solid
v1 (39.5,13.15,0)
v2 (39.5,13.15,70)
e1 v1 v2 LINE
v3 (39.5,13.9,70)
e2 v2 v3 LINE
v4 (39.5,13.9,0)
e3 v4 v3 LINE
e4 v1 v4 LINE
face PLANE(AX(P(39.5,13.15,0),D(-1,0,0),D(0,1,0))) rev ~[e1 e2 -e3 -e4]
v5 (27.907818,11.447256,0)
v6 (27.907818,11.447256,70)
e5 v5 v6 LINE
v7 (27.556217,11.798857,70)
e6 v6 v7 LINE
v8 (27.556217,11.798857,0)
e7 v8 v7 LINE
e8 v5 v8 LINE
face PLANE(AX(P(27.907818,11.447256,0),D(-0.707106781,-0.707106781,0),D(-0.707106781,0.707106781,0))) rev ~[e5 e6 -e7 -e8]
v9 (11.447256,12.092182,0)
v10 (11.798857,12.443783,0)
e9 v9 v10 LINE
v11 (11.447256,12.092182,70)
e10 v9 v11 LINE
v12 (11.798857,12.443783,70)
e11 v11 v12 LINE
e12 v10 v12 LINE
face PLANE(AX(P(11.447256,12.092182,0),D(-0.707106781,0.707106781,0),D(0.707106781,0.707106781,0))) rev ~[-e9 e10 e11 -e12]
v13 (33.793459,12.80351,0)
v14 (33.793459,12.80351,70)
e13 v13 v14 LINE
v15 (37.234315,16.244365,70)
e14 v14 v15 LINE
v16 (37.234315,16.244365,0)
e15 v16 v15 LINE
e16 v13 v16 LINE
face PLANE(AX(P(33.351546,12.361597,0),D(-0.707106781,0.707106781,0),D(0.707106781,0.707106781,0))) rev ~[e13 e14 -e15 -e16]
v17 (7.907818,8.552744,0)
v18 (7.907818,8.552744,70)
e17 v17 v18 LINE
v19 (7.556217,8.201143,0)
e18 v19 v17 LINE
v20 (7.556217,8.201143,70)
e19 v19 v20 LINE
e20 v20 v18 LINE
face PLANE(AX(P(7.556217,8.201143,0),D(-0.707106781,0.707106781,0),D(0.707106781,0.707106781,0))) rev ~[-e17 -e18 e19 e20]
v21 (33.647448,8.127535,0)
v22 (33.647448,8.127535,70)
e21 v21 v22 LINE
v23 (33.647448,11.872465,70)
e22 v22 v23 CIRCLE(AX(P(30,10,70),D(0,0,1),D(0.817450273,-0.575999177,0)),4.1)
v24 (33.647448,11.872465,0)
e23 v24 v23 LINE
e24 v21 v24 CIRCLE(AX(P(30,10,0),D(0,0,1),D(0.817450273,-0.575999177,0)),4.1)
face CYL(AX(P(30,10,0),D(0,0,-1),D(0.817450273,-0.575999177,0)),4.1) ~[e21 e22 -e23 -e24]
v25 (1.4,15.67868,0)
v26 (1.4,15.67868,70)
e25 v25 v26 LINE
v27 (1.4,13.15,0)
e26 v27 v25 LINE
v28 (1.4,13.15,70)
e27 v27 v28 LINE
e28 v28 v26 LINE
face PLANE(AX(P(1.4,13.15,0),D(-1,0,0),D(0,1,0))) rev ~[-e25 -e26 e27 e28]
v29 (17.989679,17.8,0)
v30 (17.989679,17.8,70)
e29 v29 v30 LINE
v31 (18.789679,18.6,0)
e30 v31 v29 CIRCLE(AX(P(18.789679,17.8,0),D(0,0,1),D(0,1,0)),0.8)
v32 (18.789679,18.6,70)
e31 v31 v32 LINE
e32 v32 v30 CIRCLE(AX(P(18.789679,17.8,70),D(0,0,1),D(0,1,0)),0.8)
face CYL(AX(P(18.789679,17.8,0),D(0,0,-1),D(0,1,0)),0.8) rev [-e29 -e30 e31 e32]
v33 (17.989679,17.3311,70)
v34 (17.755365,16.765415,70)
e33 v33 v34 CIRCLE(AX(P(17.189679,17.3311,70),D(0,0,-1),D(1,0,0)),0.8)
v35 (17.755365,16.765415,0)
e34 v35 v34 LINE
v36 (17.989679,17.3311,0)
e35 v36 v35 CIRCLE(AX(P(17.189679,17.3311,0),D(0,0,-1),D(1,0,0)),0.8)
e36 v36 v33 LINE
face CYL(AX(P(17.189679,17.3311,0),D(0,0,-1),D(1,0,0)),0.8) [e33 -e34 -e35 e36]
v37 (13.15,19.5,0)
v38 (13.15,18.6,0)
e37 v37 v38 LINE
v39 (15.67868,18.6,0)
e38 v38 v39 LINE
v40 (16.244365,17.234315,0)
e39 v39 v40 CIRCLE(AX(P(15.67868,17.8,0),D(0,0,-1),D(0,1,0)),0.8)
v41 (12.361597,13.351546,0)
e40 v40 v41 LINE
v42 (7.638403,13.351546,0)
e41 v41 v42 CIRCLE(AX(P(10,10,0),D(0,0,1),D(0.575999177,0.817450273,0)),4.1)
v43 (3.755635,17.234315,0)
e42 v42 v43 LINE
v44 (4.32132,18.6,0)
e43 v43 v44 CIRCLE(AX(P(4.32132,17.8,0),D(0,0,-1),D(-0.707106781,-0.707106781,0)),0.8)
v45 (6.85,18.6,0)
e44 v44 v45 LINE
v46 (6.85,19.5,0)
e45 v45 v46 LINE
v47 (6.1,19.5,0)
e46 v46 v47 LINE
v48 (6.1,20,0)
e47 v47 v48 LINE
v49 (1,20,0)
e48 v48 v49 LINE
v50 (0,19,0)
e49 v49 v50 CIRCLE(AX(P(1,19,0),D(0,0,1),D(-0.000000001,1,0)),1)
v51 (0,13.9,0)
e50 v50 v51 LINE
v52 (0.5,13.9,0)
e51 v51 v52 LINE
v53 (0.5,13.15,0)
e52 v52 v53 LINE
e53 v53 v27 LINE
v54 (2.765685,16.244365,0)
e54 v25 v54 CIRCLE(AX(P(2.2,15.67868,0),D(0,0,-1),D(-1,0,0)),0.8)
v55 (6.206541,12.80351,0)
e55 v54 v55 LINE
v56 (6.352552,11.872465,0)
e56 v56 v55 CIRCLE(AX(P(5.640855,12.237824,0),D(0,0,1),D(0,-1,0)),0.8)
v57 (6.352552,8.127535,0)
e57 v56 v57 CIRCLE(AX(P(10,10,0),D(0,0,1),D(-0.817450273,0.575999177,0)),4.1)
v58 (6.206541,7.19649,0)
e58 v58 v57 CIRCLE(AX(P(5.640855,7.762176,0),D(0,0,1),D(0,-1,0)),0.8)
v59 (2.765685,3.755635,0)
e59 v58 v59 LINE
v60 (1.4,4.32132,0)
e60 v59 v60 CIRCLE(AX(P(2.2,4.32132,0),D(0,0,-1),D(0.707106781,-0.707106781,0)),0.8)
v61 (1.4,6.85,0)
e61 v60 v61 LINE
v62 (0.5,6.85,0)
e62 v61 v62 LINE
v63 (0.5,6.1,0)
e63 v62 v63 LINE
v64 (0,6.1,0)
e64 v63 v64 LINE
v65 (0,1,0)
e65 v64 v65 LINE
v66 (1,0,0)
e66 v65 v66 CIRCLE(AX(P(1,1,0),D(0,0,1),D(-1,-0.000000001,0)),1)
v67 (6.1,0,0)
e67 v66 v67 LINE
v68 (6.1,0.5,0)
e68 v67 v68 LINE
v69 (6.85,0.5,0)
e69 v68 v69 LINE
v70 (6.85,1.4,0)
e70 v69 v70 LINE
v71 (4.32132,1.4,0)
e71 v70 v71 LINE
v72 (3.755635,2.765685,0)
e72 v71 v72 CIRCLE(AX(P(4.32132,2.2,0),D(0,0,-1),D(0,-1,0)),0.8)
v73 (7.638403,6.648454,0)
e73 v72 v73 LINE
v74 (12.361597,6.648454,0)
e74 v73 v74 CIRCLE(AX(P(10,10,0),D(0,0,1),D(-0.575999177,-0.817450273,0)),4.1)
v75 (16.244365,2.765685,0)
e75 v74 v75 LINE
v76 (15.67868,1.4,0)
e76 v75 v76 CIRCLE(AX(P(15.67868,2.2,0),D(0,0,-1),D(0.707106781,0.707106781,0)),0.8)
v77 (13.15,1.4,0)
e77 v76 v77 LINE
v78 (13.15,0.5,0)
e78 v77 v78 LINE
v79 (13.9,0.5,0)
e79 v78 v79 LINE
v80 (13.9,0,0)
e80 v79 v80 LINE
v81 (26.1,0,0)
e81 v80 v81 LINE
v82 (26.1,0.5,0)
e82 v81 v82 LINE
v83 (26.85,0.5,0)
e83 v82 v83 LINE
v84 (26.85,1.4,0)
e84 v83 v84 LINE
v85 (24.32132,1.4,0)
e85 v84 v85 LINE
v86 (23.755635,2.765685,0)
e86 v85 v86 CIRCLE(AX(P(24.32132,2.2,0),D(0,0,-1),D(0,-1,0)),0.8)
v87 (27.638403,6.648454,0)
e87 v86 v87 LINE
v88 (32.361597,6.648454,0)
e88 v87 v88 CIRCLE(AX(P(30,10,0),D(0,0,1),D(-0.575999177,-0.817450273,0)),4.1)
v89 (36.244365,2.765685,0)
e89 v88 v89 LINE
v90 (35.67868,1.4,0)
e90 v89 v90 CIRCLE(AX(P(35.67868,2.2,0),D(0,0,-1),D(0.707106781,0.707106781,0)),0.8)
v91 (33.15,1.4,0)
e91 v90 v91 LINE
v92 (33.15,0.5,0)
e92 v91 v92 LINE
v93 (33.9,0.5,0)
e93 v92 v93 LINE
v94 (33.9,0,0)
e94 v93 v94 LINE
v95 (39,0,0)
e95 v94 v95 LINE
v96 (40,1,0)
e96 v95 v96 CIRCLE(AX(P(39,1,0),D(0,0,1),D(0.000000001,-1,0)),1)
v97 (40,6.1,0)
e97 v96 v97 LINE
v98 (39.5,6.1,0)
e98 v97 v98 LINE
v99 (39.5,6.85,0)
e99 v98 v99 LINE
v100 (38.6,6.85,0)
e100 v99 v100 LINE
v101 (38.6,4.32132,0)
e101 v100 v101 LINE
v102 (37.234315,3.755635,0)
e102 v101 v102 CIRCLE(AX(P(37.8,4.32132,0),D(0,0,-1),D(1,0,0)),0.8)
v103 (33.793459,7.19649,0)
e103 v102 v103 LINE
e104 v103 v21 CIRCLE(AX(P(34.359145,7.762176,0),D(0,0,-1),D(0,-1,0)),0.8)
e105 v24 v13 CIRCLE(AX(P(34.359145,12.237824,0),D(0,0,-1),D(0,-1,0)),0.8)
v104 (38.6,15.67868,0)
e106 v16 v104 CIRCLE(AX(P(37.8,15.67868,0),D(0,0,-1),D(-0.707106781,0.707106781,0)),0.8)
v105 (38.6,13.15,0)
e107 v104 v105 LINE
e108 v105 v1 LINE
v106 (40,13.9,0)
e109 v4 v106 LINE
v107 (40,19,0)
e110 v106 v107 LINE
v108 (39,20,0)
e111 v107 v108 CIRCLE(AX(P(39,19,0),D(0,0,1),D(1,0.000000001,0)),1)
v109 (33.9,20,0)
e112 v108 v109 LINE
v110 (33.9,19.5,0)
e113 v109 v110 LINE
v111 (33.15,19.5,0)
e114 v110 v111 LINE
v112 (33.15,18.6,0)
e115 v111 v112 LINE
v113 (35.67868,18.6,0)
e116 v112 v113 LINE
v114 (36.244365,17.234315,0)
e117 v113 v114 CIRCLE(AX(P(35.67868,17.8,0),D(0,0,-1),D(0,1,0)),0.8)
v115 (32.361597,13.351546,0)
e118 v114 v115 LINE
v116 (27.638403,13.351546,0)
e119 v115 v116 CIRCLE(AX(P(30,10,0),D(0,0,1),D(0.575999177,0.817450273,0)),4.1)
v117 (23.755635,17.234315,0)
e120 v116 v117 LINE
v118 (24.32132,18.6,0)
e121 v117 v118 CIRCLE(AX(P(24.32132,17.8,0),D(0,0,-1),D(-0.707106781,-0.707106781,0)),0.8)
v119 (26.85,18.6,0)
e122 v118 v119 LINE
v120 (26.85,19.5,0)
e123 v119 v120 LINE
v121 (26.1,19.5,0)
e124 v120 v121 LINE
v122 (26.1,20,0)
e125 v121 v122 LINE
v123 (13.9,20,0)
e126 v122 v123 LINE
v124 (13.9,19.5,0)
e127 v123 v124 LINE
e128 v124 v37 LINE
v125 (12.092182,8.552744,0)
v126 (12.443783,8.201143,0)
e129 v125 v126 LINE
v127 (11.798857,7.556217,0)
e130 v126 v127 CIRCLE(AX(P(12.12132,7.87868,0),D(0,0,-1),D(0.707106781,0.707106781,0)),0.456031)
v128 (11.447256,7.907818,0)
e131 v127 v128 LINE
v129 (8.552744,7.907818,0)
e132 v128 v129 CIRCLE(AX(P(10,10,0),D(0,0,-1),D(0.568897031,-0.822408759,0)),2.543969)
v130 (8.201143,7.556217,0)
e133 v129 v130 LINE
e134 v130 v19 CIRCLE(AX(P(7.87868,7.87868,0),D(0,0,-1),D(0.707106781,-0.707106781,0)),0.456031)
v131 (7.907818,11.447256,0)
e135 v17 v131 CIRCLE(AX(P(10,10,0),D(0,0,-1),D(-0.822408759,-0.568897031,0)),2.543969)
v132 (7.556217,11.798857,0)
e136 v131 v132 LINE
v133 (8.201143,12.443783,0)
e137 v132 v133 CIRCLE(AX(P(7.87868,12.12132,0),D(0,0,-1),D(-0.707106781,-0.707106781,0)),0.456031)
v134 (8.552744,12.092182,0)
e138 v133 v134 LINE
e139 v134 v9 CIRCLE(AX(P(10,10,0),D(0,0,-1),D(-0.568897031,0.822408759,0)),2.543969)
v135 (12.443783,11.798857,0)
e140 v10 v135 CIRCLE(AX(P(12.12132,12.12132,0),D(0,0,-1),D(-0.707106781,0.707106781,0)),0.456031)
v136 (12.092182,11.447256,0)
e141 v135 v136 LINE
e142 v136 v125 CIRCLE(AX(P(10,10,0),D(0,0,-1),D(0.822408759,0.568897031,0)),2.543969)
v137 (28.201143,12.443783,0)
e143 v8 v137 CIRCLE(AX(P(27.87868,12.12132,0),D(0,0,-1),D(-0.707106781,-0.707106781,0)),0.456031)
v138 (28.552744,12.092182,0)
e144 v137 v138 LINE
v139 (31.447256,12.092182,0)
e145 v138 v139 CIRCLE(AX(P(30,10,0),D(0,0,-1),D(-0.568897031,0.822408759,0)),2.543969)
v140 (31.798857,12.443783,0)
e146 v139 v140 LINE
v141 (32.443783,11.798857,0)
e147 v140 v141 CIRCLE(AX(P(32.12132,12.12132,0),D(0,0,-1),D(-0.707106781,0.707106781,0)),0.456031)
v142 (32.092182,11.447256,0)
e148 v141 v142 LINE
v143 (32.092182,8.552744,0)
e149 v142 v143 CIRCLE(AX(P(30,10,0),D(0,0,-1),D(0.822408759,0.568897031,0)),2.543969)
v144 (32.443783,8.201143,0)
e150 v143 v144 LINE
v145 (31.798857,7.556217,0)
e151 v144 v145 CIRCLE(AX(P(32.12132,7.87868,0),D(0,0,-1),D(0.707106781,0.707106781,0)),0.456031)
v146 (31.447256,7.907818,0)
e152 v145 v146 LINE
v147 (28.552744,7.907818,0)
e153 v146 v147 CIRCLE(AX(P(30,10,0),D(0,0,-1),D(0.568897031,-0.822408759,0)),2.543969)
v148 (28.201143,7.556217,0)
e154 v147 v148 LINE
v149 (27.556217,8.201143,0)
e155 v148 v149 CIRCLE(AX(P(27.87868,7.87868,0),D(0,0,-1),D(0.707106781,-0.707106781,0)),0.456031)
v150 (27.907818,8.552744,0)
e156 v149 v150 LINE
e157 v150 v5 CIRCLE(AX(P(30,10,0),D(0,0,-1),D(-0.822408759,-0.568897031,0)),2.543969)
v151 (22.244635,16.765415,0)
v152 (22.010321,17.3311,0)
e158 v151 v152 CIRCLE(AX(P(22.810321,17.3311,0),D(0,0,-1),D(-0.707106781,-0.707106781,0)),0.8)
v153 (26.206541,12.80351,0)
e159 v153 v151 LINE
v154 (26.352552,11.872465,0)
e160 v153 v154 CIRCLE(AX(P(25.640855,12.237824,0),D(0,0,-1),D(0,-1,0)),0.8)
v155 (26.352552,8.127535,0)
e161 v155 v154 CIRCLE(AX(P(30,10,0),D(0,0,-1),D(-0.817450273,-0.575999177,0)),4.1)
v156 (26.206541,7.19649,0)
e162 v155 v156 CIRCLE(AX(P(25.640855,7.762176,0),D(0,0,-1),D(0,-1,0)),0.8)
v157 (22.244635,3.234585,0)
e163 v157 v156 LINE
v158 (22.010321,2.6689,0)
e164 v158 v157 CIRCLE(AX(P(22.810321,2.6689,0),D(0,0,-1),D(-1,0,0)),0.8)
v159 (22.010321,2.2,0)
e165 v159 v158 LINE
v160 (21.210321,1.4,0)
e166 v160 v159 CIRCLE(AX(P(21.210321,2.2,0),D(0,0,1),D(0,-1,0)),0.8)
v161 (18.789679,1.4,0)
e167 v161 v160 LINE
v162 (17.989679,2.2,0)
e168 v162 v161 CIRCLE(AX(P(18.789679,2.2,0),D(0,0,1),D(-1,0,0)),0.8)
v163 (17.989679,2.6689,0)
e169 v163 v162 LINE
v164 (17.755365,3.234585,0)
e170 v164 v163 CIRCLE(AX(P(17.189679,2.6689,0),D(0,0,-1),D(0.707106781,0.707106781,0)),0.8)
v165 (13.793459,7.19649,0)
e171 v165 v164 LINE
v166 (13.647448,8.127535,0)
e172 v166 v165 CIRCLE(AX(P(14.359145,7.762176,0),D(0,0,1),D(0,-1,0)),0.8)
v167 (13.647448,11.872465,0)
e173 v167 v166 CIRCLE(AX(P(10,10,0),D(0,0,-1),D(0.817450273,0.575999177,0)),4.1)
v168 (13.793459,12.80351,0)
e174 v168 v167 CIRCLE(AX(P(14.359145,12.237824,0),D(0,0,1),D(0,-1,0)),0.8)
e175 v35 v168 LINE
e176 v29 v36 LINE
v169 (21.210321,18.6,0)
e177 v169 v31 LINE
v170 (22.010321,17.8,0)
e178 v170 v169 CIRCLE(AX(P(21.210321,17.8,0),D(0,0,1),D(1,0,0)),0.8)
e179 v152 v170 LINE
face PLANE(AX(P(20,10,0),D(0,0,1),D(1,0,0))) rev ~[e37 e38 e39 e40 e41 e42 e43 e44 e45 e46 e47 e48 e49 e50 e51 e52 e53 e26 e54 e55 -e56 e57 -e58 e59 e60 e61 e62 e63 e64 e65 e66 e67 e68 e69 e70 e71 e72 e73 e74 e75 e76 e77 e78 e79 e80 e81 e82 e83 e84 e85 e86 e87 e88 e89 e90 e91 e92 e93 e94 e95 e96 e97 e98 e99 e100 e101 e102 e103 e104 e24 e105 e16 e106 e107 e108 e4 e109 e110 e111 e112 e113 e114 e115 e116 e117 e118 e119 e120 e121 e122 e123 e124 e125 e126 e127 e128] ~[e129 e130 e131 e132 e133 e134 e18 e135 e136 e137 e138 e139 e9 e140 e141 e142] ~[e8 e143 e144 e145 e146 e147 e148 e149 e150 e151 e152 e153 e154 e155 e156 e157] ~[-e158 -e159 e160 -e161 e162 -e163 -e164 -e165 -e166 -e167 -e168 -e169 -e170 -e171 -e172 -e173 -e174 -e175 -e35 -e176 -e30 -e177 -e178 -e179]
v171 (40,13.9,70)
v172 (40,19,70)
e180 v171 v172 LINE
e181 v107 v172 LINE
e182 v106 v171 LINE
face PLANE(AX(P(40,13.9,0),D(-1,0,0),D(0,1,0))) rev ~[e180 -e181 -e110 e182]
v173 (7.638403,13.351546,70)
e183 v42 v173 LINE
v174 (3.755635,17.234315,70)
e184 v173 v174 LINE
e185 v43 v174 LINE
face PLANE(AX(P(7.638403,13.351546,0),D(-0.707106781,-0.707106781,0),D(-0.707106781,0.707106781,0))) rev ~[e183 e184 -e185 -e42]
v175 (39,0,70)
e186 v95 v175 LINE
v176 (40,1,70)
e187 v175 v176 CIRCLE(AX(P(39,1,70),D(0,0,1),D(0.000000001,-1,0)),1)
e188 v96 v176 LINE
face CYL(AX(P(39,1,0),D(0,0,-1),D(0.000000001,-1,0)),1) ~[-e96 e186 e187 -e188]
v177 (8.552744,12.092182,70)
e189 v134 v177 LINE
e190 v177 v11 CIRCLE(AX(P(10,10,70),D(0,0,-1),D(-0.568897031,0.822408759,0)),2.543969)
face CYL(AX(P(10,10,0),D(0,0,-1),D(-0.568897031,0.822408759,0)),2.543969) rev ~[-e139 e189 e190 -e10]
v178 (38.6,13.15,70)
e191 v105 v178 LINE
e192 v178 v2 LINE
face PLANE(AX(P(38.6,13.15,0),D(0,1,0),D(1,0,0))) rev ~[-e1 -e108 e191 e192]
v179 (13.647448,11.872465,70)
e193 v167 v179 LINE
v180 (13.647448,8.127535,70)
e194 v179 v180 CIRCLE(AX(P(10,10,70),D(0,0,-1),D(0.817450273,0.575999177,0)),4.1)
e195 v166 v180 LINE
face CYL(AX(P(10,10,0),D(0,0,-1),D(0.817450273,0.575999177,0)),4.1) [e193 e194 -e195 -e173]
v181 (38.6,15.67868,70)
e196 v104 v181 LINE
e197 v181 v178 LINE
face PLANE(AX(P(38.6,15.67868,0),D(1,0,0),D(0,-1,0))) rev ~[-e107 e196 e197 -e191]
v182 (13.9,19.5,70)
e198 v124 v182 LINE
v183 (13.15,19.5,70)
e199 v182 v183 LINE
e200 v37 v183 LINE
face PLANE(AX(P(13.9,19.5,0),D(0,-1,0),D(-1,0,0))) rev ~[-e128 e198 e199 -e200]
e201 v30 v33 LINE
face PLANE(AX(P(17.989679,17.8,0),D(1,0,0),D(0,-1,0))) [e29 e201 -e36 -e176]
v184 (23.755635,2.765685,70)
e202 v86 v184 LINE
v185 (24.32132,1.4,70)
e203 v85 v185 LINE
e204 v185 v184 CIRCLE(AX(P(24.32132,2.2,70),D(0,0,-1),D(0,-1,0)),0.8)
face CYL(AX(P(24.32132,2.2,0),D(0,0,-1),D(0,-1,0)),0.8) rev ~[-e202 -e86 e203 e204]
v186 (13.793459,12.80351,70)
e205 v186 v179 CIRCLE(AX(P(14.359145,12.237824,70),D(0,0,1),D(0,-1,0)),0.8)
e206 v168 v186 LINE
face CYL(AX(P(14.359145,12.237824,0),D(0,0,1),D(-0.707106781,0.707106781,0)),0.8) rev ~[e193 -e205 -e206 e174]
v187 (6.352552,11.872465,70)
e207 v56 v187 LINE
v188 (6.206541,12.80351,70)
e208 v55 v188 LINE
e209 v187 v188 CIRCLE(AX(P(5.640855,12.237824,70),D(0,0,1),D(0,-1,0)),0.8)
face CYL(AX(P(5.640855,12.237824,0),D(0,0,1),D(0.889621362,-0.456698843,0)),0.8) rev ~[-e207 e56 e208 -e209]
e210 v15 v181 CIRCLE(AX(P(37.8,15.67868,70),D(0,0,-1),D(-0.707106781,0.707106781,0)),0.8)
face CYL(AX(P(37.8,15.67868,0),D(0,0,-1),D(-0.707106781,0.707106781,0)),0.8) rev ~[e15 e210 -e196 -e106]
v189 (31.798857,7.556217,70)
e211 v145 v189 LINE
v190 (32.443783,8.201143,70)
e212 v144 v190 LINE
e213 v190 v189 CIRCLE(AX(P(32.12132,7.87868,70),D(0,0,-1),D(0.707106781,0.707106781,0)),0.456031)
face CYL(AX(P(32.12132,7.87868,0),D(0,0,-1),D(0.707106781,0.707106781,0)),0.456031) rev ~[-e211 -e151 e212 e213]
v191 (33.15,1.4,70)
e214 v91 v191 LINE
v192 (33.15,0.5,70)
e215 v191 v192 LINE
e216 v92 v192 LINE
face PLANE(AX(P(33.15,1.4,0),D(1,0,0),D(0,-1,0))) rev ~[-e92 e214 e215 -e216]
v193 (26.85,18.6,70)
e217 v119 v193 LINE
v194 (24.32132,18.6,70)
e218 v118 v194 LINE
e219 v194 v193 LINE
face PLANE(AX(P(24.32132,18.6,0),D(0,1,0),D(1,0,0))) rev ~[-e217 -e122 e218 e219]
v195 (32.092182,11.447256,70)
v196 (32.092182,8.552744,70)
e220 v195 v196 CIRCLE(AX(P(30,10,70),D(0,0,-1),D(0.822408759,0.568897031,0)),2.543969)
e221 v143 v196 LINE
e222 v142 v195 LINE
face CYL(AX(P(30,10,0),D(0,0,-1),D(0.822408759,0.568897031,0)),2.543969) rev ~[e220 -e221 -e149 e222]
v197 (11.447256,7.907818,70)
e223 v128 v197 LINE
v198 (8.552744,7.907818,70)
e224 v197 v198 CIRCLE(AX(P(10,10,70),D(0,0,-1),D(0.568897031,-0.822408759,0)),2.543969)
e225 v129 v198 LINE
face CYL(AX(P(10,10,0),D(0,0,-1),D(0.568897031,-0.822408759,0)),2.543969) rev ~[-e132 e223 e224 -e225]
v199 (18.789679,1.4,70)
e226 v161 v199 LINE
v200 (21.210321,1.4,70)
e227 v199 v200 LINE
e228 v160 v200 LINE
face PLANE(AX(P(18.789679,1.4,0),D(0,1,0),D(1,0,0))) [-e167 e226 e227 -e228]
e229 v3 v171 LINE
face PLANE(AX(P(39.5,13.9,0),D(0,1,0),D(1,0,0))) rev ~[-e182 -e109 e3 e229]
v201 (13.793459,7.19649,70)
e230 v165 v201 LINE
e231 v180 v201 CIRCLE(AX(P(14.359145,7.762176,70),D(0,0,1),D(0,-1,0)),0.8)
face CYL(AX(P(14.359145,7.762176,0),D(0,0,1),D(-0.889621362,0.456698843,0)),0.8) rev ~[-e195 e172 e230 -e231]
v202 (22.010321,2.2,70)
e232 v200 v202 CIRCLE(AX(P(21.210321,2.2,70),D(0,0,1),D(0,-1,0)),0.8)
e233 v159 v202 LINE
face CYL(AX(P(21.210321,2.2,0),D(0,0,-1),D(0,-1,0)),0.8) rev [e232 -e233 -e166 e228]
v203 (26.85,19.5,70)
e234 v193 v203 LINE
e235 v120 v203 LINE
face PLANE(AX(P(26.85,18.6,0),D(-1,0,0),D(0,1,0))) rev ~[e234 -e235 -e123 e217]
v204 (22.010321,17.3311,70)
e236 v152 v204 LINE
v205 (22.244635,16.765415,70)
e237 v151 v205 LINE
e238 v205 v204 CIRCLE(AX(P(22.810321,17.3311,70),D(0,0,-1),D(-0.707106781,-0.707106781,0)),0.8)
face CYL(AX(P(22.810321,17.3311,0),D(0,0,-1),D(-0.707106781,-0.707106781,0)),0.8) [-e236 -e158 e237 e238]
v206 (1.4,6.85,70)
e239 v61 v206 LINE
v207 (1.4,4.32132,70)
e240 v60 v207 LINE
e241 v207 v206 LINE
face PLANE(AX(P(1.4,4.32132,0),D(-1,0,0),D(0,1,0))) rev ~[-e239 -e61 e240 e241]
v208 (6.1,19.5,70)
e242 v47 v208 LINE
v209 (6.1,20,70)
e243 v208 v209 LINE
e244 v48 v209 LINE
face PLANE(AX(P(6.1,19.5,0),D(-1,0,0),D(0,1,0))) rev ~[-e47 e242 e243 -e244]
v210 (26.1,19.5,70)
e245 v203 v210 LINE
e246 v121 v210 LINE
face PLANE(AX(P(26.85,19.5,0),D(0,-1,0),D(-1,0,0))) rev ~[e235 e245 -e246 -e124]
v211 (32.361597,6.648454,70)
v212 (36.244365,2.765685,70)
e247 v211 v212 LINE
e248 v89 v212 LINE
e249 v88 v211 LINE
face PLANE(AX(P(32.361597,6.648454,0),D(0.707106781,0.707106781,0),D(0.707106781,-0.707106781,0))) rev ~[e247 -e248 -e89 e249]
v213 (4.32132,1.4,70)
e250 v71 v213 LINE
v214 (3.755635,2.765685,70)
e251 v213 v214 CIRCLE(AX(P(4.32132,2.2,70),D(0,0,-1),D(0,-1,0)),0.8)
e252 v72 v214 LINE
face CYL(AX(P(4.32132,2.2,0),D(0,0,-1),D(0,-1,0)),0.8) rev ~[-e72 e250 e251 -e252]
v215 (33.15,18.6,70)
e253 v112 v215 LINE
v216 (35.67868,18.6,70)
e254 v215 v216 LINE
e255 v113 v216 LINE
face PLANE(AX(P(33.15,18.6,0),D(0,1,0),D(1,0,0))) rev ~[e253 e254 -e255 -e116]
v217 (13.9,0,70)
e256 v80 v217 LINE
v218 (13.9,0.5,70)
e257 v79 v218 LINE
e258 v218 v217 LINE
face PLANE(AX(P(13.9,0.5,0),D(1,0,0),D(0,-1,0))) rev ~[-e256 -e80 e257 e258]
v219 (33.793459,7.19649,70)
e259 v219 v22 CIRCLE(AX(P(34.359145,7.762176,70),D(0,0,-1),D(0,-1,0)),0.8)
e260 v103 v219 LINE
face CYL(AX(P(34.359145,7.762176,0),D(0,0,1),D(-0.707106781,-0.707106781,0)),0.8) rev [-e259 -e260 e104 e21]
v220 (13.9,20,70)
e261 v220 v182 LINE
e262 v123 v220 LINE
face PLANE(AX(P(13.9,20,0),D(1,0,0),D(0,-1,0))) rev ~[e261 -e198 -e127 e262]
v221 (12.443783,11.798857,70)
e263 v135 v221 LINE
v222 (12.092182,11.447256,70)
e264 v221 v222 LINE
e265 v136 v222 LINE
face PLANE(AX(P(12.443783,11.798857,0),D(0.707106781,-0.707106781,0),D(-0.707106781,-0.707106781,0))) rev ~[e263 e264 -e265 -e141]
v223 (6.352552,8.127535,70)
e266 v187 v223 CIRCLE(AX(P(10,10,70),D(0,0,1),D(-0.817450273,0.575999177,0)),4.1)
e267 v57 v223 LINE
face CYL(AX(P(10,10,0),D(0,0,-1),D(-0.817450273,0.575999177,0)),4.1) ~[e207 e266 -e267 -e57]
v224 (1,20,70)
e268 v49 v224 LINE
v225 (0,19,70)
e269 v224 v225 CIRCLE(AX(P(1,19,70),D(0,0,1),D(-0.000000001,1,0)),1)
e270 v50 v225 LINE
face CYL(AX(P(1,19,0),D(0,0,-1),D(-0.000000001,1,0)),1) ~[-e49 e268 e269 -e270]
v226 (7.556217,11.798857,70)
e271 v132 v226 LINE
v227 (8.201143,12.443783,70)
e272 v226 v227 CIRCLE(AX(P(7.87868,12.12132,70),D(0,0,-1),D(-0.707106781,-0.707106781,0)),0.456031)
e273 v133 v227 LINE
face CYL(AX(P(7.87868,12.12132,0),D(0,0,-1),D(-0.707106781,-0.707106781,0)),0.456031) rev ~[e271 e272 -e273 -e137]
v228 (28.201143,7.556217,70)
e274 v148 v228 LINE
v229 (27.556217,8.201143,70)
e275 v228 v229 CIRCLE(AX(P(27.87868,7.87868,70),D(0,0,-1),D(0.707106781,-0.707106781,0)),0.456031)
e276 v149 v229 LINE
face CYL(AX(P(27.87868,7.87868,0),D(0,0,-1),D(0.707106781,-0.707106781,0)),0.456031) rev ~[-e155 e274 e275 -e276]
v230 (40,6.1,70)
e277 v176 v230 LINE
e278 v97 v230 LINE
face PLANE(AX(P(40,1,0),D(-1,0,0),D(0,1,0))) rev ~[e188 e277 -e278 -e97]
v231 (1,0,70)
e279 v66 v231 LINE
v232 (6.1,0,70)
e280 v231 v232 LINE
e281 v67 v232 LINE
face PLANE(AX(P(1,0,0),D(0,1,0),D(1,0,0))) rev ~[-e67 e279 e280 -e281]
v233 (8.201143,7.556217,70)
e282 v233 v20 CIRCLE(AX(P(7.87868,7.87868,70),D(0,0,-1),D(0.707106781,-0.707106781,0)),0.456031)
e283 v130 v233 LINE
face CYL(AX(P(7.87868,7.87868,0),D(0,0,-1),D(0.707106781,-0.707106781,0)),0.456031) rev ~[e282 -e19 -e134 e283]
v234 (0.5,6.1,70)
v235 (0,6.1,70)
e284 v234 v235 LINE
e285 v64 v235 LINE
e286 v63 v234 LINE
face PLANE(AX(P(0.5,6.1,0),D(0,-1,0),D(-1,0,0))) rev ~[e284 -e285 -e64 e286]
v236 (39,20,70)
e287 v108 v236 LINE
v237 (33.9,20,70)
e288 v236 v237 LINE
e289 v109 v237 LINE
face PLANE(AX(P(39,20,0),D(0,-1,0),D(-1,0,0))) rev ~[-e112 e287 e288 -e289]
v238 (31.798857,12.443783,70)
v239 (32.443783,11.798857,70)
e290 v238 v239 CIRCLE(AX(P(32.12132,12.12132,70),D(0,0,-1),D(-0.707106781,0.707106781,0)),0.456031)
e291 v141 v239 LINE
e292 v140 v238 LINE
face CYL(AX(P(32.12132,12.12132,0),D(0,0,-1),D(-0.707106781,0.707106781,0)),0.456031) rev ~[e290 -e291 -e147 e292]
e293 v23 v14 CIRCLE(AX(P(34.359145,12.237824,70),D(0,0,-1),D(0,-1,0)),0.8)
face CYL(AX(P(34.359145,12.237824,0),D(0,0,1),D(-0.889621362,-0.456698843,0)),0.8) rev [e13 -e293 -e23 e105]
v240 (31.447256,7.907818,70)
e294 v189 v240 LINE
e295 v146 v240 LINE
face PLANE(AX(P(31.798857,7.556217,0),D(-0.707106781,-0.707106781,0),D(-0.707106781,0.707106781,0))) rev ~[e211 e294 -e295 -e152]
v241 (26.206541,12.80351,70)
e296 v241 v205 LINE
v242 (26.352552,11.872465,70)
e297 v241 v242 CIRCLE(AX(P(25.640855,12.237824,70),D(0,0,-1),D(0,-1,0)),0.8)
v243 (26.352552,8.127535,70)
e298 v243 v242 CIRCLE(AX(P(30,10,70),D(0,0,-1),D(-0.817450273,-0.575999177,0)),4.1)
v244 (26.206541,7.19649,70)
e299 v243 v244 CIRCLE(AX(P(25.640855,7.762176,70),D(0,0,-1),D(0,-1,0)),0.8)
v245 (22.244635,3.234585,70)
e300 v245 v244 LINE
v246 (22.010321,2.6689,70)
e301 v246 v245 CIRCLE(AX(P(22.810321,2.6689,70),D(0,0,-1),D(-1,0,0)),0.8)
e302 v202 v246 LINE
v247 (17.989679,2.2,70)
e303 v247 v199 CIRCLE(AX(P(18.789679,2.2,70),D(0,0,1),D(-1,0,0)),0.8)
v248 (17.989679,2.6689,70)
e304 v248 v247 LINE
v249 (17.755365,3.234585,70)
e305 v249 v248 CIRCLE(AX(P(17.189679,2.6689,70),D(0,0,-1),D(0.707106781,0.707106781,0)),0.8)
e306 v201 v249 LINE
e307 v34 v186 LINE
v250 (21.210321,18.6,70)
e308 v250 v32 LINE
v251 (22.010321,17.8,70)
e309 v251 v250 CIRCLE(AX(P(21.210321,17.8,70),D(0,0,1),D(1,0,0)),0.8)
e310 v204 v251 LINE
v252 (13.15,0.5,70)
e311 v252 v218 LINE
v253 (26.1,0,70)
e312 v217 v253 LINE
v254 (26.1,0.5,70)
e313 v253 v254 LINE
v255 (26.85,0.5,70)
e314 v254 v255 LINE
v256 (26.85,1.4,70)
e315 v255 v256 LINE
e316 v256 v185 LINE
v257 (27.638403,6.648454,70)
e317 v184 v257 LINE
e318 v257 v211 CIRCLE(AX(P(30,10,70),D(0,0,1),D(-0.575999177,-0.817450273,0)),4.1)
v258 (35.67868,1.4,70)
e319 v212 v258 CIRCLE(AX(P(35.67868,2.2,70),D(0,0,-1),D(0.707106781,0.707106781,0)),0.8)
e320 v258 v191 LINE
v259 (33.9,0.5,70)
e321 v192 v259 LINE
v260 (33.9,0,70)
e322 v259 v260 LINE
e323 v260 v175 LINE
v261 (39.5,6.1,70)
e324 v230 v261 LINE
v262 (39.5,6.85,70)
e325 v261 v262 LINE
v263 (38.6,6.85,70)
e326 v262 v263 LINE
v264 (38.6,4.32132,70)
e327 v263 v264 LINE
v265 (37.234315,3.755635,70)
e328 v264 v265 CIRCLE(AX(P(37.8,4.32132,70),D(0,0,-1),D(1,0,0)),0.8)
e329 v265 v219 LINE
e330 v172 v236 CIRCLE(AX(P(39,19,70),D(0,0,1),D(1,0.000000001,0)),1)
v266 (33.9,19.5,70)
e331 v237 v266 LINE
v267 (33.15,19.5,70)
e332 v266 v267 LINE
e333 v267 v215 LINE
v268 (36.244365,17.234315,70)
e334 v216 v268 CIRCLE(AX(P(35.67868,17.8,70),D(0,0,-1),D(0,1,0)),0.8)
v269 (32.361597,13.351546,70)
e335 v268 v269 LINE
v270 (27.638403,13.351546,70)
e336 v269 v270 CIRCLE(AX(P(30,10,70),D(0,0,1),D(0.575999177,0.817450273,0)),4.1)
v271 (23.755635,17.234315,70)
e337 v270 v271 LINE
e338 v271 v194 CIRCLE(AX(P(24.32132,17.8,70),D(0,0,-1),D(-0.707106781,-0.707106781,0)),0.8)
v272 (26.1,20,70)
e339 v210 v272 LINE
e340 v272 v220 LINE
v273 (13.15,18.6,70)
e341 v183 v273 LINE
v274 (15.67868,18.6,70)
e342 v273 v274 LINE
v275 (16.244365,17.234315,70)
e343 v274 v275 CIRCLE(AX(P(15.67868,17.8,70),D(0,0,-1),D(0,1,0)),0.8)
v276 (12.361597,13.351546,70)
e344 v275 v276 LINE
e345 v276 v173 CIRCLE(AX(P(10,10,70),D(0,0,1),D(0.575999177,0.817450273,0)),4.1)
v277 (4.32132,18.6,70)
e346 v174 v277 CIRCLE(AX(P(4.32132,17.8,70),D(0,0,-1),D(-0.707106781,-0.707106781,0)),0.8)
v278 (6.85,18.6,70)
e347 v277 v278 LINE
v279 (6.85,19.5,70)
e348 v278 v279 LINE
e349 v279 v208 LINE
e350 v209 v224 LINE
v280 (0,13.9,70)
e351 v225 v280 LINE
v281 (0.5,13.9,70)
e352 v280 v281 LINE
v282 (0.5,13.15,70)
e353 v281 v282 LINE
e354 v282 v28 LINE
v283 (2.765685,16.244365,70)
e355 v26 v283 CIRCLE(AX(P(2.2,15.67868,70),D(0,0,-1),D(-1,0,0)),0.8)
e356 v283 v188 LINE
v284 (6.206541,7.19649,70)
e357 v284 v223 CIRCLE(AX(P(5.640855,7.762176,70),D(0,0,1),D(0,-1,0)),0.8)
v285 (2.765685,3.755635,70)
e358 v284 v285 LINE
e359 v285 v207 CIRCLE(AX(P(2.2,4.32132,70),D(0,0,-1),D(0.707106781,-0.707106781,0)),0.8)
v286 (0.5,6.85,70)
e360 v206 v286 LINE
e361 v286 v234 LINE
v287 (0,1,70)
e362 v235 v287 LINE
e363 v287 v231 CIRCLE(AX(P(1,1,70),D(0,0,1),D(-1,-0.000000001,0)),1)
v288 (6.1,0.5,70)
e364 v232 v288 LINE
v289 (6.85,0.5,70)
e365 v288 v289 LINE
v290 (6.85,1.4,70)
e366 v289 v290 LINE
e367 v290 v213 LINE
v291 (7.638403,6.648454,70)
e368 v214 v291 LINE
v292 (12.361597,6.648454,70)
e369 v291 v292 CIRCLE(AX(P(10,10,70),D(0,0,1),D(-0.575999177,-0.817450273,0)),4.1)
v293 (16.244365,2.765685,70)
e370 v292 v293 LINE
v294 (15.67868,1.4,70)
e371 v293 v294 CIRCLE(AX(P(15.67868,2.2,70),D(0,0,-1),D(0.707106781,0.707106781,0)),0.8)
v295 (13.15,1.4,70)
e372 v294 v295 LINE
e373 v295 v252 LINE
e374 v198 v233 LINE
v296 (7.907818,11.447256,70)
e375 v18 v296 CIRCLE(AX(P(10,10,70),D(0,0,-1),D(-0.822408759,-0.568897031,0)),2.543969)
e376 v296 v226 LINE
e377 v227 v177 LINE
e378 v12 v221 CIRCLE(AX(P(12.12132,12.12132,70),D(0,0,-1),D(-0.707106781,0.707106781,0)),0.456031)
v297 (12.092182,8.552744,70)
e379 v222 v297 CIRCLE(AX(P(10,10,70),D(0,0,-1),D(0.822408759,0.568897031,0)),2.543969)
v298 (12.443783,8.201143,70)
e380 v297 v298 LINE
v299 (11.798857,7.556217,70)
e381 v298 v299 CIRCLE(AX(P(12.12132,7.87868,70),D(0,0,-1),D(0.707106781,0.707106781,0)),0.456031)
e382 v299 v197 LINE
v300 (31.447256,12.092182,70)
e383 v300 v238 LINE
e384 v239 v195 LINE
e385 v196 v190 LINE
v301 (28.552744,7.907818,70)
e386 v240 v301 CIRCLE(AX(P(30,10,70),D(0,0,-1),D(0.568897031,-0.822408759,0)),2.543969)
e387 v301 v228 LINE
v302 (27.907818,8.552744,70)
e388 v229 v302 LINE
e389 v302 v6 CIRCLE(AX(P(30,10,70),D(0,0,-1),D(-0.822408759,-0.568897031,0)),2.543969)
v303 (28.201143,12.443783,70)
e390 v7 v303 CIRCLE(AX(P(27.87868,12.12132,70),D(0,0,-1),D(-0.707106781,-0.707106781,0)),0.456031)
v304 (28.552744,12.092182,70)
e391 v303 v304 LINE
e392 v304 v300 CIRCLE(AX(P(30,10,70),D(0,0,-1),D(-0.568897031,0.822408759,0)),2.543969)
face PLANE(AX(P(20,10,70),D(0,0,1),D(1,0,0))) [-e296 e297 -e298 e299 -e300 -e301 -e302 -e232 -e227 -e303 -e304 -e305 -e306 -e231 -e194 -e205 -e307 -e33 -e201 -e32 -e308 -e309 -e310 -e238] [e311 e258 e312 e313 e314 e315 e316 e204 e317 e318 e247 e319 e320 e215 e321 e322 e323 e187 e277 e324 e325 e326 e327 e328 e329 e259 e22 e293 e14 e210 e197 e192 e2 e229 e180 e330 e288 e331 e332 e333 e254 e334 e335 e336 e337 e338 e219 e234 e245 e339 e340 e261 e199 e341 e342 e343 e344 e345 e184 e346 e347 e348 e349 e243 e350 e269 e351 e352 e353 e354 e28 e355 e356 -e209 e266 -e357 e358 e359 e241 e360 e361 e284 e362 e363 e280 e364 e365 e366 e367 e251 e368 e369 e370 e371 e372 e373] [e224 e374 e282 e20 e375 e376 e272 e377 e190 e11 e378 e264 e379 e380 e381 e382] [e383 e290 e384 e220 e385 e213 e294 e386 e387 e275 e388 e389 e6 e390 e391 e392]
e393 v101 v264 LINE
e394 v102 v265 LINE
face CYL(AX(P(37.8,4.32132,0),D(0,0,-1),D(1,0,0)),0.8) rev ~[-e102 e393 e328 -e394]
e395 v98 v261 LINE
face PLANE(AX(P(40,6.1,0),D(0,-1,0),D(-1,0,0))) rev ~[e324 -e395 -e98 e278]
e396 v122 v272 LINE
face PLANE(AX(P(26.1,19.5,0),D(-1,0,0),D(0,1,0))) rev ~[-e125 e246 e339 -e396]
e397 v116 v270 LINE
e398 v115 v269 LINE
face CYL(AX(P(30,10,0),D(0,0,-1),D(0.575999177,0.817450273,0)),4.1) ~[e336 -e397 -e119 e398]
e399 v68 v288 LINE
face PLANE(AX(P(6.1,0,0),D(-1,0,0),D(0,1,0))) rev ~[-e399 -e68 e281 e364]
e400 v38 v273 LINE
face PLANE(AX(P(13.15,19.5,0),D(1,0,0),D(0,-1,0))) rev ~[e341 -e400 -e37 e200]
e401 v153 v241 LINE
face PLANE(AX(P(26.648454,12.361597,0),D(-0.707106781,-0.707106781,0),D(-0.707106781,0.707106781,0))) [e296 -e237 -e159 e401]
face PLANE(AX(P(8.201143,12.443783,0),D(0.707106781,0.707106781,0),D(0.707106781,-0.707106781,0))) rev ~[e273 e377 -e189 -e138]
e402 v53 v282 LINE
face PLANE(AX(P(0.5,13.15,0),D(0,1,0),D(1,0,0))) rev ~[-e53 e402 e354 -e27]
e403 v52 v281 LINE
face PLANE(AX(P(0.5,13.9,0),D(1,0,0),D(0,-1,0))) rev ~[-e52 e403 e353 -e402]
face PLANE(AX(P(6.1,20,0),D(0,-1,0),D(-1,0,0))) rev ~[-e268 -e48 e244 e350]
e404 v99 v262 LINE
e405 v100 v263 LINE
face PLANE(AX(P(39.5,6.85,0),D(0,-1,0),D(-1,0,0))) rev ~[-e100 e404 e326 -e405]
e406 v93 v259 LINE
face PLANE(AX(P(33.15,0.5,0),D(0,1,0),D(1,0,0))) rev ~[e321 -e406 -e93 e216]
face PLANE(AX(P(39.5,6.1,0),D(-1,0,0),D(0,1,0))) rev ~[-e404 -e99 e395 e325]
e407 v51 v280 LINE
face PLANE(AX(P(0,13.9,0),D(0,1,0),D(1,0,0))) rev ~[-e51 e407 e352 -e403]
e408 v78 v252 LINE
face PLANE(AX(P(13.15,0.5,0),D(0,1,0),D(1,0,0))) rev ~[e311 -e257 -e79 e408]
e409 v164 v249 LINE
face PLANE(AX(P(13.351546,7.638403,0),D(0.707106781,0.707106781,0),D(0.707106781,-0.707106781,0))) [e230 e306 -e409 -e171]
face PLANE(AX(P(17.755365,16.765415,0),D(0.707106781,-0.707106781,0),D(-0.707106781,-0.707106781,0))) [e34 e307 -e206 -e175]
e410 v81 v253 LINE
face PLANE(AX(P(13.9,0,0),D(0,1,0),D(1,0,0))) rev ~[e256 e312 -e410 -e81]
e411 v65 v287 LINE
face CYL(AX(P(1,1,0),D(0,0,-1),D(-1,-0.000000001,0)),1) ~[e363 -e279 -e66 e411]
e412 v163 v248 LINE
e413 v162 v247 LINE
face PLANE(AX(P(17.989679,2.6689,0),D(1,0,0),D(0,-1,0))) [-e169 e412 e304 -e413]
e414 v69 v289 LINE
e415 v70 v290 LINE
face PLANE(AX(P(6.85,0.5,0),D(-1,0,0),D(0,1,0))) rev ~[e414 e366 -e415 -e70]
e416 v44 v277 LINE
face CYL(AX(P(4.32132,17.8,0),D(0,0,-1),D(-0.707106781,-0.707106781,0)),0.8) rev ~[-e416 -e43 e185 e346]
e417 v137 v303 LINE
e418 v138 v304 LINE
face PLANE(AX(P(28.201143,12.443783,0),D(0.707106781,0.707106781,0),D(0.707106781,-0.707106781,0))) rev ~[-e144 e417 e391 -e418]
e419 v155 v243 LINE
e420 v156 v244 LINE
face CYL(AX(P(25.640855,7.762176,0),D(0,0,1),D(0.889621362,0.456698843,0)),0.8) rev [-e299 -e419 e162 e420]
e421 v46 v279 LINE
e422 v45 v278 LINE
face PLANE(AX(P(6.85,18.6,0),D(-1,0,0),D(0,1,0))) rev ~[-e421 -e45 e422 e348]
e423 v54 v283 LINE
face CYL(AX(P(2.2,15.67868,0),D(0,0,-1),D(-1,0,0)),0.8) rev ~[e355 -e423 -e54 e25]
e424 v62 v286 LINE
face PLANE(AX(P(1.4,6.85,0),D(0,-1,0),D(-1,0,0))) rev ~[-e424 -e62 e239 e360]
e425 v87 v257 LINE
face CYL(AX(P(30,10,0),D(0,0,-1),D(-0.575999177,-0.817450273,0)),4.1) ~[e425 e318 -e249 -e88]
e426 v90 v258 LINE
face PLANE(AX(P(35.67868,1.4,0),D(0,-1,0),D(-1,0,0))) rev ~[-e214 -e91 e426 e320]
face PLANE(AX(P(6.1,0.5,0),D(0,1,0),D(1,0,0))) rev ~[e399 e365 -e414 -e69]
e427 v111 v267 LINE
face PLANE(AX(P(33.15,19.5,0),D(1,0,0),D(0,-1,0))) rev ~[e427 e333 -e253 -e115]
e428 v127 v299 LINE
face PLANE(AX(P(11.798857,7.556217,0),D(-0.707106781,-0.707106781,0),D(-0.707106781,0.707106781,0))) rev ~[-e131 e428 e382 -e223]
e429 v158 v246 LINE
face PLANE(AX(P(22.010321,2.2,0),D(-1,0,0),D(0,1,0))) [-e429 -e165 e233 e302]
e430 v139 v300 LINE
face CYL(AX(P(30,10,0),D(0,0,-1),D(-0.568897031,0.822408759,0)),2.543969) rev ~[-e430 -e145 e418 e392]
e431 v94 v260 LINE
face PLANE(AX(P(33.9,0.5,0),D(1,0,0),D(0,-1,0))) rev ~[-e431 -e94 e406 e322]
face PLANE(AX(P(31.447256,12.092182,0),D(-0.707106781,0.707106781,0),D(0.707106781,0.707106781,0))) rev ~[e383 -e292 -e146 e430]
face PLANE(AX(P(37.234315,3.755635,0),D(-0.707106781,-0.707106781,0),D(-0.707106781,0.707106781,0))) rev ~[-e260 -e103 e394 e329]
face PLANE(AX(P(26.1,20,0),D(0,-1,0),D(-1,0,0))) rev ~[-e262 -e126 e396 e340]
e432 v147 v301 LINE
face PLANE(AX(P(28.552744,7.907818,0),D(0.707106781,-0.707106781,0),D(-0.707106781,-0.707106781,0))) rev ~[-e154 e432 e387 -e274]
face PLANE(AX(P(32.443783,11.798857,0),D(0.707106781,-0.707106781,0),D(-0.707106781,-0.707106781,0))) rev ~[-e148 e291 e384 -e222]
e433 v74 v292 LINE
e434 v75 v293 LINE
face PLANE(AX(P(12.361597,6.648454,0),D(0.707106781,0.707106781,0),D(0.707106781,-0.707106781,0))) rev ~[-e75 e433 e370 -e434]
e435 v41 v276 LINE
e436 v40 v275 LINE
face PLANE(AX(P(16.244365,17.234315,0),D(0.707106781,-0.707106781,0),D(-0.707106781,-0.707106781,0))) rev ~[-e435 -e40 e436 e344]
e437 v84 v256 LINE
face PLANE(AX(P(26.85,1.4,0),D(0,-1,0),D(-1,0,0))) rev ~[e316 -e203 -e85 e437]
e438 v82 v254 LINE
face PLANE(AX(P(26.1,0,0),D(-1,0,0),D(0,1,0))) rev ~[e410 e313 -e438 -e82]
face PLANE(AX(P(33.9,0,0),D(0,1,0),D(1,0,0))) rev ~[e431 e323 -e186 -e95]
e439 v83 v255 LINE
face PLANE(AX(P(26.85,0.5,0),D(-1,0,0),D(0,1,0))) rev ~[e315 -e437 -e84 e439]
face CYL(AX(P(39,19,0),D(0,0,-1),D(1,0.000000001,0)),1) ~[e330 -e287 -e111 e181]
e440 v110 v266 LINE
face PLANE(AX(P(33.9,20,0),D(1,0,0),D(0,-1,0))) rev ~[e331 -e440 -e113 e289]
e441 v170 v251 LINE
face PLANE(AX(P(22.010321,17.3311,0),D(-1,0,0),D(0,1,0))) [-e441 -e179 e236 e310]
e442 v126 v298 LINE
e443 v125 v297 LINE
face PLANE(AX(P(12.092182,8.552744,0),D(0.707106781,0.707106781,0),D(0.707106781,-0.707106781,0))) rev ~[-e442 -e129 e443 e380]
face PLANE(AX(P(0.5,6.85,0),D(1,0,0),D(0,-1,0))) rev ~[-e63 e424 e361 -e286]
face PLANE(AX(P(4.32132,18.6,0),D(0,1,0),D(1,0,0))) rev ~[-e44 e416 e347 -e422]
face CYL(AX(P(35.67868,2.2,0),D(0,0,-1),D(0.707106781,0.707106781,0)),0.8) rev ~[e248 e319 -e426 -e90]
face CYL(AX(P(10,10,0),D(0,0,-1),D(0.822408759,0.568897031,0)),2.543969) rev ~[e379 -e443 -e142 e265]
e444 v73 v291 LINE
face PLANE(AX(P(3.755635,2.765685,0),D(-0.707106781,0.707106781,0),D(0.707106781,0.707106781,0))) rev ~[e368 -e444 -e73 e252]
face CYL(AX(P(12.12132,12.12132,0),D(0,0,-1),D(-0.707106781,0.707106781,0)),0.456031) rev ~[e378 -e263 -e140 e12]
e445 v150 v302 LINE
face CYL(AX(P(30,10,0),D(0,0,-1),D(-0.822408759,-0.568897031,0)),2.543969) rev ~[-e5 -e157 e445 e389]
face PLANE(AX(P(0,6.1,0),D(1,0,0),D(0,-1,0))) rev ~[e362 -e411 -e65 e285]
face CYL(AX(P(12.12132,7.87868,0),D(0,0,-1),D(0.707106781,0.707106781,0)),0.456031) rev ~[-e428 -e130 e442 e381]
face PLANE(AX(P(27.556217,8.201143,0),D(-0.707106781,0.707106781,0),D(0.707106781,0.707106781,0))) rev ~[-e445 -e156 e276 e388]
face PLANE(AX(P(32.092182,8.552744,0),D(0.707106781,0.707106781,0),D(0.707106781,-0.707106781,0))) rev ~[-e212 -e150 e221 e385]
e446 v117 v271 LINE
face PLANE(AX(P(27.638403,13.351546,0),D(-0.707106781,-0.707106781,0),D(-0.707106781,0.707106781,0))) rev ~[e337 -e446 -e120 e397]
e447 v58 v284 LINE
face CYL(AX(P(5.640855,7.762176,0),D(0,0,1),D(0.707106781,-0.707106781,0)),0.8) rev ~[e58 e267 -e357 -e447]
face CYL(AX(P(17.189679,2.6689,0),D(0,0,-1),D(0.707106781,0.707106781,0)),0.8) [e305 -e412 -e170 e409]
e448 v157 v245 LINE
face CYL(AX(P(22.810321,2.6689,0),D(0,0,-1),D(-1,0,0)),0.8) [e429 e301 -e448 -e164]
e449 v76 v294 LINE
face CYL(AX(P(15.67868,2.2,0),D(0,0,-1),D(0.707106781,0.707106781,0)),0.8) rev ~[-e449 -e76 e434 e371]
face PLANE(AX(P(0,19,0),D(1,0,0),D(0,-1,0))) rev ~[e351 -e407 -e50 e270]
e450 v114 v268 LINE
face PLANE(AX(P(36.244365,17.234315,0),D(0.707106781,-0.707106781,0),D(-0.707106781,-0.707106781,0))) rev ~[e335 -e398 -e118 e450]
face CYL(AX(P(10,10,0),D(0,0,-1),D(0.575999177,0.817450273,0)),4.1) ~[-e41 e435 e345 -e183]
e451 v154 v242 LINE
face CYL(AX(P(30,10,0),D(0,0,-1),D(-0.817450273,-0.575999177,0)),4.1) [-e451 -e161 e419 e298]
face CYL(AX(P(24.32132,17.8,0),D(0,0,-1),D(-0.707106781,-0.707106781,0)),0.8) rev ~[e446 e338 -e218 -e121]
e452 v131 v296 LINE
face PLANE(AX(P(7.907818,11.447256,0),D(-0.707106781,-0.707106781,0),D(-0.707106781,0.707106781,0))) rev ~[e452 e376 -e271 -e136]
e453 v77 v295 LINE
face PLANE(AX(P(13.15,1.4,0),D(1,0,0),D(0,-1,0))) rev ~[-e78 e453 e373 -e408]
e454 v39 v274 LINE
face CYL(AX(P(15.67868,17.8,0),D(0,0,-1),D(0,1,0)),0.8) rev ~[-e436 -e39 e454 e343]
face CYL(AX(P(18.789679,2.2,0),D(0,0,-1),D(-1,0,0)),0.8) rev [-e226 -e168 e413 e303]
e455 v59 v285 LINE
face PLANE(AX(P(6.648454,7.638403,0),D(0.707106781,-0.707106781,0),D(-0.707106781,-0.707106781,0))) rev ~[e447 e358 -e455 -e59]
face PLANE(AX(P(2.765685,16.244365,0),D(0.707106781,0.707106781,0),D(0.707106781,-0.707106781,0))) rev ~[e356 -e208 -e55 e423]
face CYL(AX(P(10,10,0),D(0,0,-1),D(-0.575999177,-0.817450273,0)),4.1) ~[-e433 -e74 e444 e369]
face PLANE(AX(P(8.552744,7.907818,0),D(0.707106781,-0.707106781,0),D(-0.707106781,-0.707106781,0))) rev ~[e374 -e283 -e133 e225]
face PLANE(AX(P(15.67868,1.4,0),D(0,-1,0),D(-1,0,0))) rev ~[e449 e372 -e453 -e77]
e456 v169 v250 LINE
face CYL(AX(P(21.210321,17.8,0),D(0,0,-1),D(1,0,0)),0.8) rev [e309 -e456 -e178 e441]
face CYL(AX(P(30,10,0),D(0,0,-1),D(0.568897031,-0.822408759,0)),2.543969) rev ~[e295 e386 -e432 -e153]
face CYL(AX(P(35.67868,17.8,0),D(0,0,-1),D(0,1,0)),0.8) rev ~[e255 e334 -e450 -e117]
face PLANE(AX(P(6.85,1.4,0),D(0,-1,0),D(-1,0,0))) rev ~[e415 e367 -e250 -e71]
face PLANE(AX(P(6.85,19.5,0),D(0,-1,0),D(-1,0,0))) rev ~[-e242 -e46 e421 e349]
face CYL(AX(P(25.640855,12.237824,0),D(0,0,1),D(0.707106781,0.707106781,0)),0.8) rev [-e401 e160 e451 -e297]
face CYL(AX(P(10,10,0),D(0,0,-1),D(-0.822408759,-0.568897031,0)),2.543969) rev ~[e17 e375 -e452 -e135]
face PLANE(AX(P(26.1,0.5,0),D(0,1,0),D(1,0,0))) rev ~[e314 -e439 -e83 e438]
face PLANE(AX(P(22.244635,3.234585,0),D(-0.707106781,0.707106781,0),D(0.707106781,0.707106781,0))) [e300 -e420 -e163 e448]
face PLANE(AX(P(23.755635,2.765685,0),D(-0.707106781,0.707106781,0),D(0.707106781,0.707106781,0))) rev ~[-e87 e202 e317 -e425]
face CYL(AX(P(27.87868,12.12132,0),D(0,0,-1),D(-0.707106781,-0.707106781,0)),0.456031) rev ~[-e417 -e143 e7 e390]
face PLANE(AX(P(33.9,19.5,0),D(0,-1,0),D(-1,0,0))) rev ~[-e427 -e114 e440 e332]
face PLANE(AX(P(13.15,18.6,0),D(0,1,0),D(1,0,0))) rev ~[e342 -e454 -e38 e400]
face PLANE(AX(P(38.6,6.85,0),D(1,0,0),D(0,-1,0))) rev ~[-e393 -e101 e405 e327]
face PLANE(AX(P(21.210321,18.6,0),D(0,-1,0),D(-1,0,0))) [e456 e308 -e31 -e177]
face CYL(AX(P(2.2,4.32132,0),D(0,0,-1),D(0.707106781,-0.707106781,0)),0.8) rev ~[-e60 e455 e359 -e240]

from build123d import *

# Parameters (mm, degrees)
Y_KSEKLIK_EKSTR_ZYON2_DEPTH = 70
RADYUS1_R                   = 0.8


with BuildPart() as part:
    # Çizim3 → Yükseklik-Ekstrüzyon2 (new body)
    with BuildSketch(Plane.XY):
        with BuildLine():
            Line((1, 0), (6.1, 0))
            Line((6.1, 0), (6.1, 0.5))
            Line((6.1, 0.5), (6.85, 0.5))
            Line((6.85, 0.5), (6.85, 1.4))
            Line((6.85, 1.4), (4.321320344, 1.4))
            ThreePointArc((4.321320344, 1.4), (3.582216718, 1.893853254), (3.755634919, 2.765685425))
            Line((3.755634919, 2.765685425), (7.638403375, 6.648453882))
            ThreePointArc((7.638403375, 6.648453882), (10, 5.9), (12.361596625, 6.648453882))
            Line((12.361596625, 6.648453882), (16.244365081, 2.765685425))
            ThreePointArc((16.244365081, 2.765685425), (16.417783282, 1.893853254), (15.678679656, 1.4))
            Line((15.678679656, 1.4), (13.15, 1.4))
            Line((13.15, 1.4), (13.15, 0.5))
            Line((13.15, 0.5), (13.9, 0.5))
            Line((13.9, 0.5), (13.9, 0))
            Line((13.9, 0), (26.1, 0))
            Line((26.1, 0), (26.1, 0.5))
            Line((26.1, 0.5), (26.85, 0.5))
            Line((26.85, 0.5), (26.85, 1.4))
            Line((26.85, 1.4), (24.321320344, 1.4))
            ThreePointArc((24.321320344, 1.4), (23.582216718, 1.893853254), (23.755634919, 2.765685425))
            Line((23.755634919, 2.765685425), (27.638403375, 6.648453882))
            ThreePointArc((27.638403375, 6.648453882), (30, 5.9), (32.361596625, 6.648453882))
            Line((32.361596625, 6.648453882), (36.244365081, 2.765685425))
            ThreePointArc((36.244365081, 2.765685425), (36.417783282, 1.893853254), (35.678679656, 1.4))
            Line((35.678679656, 1.4), (33.15, 1.4))
            Line((33.15, 1.4), (33.15, 0.5))
            Line((33.15, 0.5), (33.9, 0.5))
            Line((33.9, 0.5), (33.9, 0))
            Line((33.9, 0), (39, 0))
            ThreePointArc((39, 0), (39.707106781, 0.292893219), (40, 1))
            Line((40, 1), (40, 6.1))
            Line((40, 6.1), (39.5, 6.1))
            Line((39.5, 6.1), (39.5, 6.85))
            Line((39.5, 6.85), (38.6, 6.85))
            Line((38.6, 6.85), (38.6, 4.321320344))
            ThreePointArc((38.6, 4.321320344), (38.106146746, 3.582216718), (37.234314575, 3.755634919))
            Line((37.234314575, 3.755634919), (33.351546118, 7.638403375))
            ThreePointArc((33.351546118, 7.638403375), (34.1, 10), (33.351546118, 12.361596625))
            Line((33.351546118, 12.361596625), (37.234314575, 16.244365081))
            ThreePointArc((37.234314575, 16.244365081), (38.106146746, 16.417783282), (38.6, 15.678679656))
            Line((38.6, 15.678679656), (38.6, 13.15))
            Line((38.6, 13.15), (39.5, 13.15))
            Line((39.5, 13.15), (39.5, 13.9))
            Line((39.5, 13.9), (40, 13.9))
            Line((40, 13.9), (40, 19))
            ThreePointArc((40, 19), (39.707106781, 19.707106781), (39, 20))
            Line((39, 20), (33.9, 20))
            Line((33.9, 20), (33.9, 19.5))
            Line((33.9, 19.5), (33.15, 19.5))
            Line((33.15, 19.5), (33.15, 18.6))
            Line((33.15, 18.6), (35.678679656, 18.6))
            ThreePointArc((35.678679656, 18.6), (36.417783282, 18.106146746), (36.244365081, 17.234314575))
            Line((36.244365081, 17.234314575), (32.361596625, 13.351546118))
            ThreePointArc((32.361596625, 13.351546118), (30, 14.1), (27.638403375, 13.351546118))
            Line((27.638403375, 13.351546118), (23.755634919, 17.234314575))
            ThreePointArc((23.755634919, 17.234314575), (23.582216718, 18.106146746), (24.321320344, 18.6))
            Line((24.321320344, 18.6), (26.85, 18.6))
            Line((26.85, 18.6), (26.85, 19.5))
            Line((26.85, 19.5), (26.1, 19.5))
            Line((26.1, 19.5), (26.1, 20))
            Line((26.1, 20), (13.9, 20))
            Line((13.9, 20), (13.9, 19.5))
            Line((13.9, 19.5), (13.15, 19.5))
            Line((13.15, 19.5), (13.15, 18.6))
            Line((13.15, 18.6), (15.678679656, 18.6))
            ThreePointArc((15.678679656, 18.6), (16.417783282, 18.106146746), (16.244365081, 17.234314575))
            Line((16.244365081, 17.234314575), (12.361596625, 13.351546118))
            ThreePointArc((12.361596625, 13.351546118), (10, 14.1), (7.638403375, 13.351546118))
            Line((7.638403375, 13.351546118), (3.755634919, 17.234314575))
            ThreePointArc((3.755634919, 17.234314575), (3.582216718, 18.106146746), (4.321320344, 18.6))
            Line((4.321320344, 18.6), (6.85, 18.6))
            Line((6.85, 18.6), (6.85, 19.5))
            Line((6.85, 19.5), (6.1, 19.5))
            Line((6.1, 19.5), (6.1, 20))
            Line((6.1, 20), (1, 20))
            ThreePointArc((1, 20), (0.292893219, 19.707106781), (0, 19))
            Line((0, 19), (0, 13.9))
            Line((0, 13.9), (0.5, 13.9))
            Line((0.5, 13.9), (0.5, 13.15))
            Line((0.5, 13.15), (1.4, 13.15))
            Line((1.4, 13.15), (1.4, 15.678679656))
            ThreePointArc((1.4, 15.678679656), (1.893853254, 16.417783282), (2.765685425, 16.244365081))
            Line((2.765685425, 16.244365081), (6.648453882, 12.361596625))
            ThreePointArc((6.648453882, 12.361596625), (5.9, 10), (6.648453882, 7.638403375))
            Line((6.648453882, 7.638403375), (2.765685425, 3.755634919))
            ThreePointArc((2.765685425, 3.755634919), (1.893853254, 3.582216718), (1.4, 4.321320344))
            Line((1.4, 4.321320344), (1.4, 6.85))
            Line((1.4, 6.85), (0.5, 6.85))
            Line((0.5, 6.85), (0.5, 6.1))
            Line((0.5, 6.1), (0, 6.1))
            Line((0, 6.1), (0, 1))
            ThreePointArc((0, 1), (0.292893219, 0.292893219), (1, 0))
        make_face()
        with BuildLine():
            Line((21.210320913, 18.6), (18.789679087, 18.6))
            ThreePointArc((18.789679087, 18.6), (18.223993662, 18.365685425), (17.989679087, 17.8))
            Line((17.989679087, 17.8), (17.989679087, 17.331100443))
            ThreePointArc((17.989679087, 17.331100443), (17.928782713, 17.024953697), (17.755364512, 16.765415018))
            Line((17.755364512, 16.765415018), (13.351546118, 12.361596625))
            ThreePointArc((13.351546118, 12.361596625), (14.1, 10), (13.351546118, 7.638403375))
            Line((13.351546118, 7.638403375), (17.755364512, 3.234584982))
            ThreePointArc((17.755364512, 3.234584982), (17.928782713, 2.975046303), (17.989679087, 2.668899557))
            Line((17.989679087, 2.668899557), (17.989679087, 2.2))
            ThreePointArc((17.989679087, 2.2), (18.223993662, 1.634314575), (18.789679087, 1.4))
            Line((18.789679087, 1.4), (21.210320913, 1.4))
            ThreePointArc((21.210320913, 1.4), (21.776006338, 1.634314575), (22.010320913, 2.2))
            Line((22.010320913, 2.2), (22.010320913, 2.668899557))
            ThreePointArc((22.010320913, 2.668899557), (22.071217287, 2.975046303), (22.244635488, 3.234584982))
            Line((22.244635488, 3.234584982), (26.648453882, 7.638403375))
            ThreePointArc((26.648453882, 7.638403375), (25.9, 10), (26.648453882, 12.361596625))
            Line((26.648453882, 12.361596625), (22.244635488, 16.765415018))
            ThreePointArc((22.244635488, 16.765415018), (22.071217287, 17.024953697), (22.010320913, 17.331100443))
            Line((22.010320913, 17.331100443), (22.010320913, 17.8))
            ThreePointArc((22.010320913, 17.8), (21.776006338, 18.365685425), (21.210320913, 18.6))
        make_face(mode=Mode.SUBTRACT)
        with BuildLine():
            Line((8.201142588, 12.443783276), (8.552743846, 12.092182018))
            ThreePointArc((8.552743846, 12.092182018), (10, 12.543968548), (11.447256154, 12.092182018))
            Line((11.447256154, 12.092182018), (11.798857412, 12.443783276))
            ThreePointArc((11.798857412, 12.443783276), (12.443783276, 12.443783276), (12.443783276, 11.798857412))
            Line((12.443783276, 11.798857412), (12.092182018, 11.447256154))
            ThreePointArc((12.092182018, 11.447256154), (12.543968548, 10), (12.092182018, 8.552743846))
            Line((12.092182018, 8.552743846), (12.443783276, 8.201142588))
            ThreePointArc((12.443783276, 8.201142588), (12.443783276, 7.556216724), (11.798857412, 7.556216724))
            Line((11.798857412, 7.556216724), (11.447256154, 7.907817982))
            ThreePointArc((11.447256154, 7.907817982), (10, 7.456031452), (8.552743846, 7.907817982))
            Line((8.552743846, 7.907817982), (8.201142588, 7.556216724))
            ThreePointArc((8.201142588, 7.556216724), (7.556216724, 7.556216724), (7.556216724, 8.201142588))
            Line((7.556216724, 8.201142588), (7.907817982, 8.552743846))
            ThreePointArc((7.907817982, 8.552743846), (7.456031452, 10), (7.907817982, 11.447256154))
            Line((7.907817982, 11.447256154), (7.556216724, 11.798857412))
            ThreePointArc((7.556216724, 11.798857412), (7.556216724, 12.443783276), (8.201142588, 12.443783276))
        make_face(mode=Mode.SUBTRACT)
        with BuildLine():
            Line((27.907817982, 11.447256154), (27.556216724, 11.798857412))
            ThreePointArc((27.556216724, 11.798857412), (27.556216724, 12.443783276), (28.201142588, 12.443783276))
            Line((28.201142588, 12.443783276), (28.552743846, 12.092182018))
            ThreePointArc((28.552743846, 12.092182018), (30, 12.543968548), (31.447256154, 12.092182018))
            Line((31.447256154, 12.092182018), (31.798857412, 12.443783276))
            ThreePointArc((31.798857412, 12.443783276), (32.443783276, 12.443783276), (32.443783276, 11.798857412))
            Line((32.443783276, 11.798857412), (32.092182018, 11.447256154))
            ThreePointArc((32.092182018, 11.447256154), (32.543968548, 10), (32.092182018, 8.552743846))
            Line((32.092182018, 8.552743846), (32.443783276, 8.201142588))
            ThreePointArc((32.443783276, 8.201142588), (32.443783276, 7.556216724), (31.798857412, 7.556216724))
            Line((31.798857412, 7.556216724), (31.447256154, 7.907817982))
            ThreePointArc((31.447256154, 7.907817982), (30, 7.456031452), (28.552743846, 7.907817982))
            Line((28.552743846, 7.907817982), (28.201142588, 7.556216724))
            ThreePointArc((28.201142588, 7.556216724), (27.556216724, 7.556216724), (27.556216724, 8.201142588))
            Line((27.556216724, 8.201142588), (27.907817982, 8.552743846))
            ThreePointArc((27.907817982, 8.552743846), (27.456031452, 10), (27.907817982, 11.447256154))
        make_face(mode=Mode.SUBTRACT)
    extrude(amount=Y_KSEKLIK_EKSTR_ZYON2_DEPTH)

    # Radyus1
    radyus1_edges = [part.edges().sort_by_distance(p)[0] for p in [
        (6.648453882, 7.638403375, 35),
        (6.648453882, 12.361596625, 35),
        (33.351546118, 12.361596625, 35),
        (33.351546118, 7.638403375, 35),
        (13.351546118, 12.361596625, 35),
        (13.351546118, 7.638403375, 35),
        (26.648453882, 7.638403375, 35),
        (26.648453882, 12.361596625, 35),
    ]]
    fillet(radyus1_edges, radius=RADYUS1_R)


solid = part.part
